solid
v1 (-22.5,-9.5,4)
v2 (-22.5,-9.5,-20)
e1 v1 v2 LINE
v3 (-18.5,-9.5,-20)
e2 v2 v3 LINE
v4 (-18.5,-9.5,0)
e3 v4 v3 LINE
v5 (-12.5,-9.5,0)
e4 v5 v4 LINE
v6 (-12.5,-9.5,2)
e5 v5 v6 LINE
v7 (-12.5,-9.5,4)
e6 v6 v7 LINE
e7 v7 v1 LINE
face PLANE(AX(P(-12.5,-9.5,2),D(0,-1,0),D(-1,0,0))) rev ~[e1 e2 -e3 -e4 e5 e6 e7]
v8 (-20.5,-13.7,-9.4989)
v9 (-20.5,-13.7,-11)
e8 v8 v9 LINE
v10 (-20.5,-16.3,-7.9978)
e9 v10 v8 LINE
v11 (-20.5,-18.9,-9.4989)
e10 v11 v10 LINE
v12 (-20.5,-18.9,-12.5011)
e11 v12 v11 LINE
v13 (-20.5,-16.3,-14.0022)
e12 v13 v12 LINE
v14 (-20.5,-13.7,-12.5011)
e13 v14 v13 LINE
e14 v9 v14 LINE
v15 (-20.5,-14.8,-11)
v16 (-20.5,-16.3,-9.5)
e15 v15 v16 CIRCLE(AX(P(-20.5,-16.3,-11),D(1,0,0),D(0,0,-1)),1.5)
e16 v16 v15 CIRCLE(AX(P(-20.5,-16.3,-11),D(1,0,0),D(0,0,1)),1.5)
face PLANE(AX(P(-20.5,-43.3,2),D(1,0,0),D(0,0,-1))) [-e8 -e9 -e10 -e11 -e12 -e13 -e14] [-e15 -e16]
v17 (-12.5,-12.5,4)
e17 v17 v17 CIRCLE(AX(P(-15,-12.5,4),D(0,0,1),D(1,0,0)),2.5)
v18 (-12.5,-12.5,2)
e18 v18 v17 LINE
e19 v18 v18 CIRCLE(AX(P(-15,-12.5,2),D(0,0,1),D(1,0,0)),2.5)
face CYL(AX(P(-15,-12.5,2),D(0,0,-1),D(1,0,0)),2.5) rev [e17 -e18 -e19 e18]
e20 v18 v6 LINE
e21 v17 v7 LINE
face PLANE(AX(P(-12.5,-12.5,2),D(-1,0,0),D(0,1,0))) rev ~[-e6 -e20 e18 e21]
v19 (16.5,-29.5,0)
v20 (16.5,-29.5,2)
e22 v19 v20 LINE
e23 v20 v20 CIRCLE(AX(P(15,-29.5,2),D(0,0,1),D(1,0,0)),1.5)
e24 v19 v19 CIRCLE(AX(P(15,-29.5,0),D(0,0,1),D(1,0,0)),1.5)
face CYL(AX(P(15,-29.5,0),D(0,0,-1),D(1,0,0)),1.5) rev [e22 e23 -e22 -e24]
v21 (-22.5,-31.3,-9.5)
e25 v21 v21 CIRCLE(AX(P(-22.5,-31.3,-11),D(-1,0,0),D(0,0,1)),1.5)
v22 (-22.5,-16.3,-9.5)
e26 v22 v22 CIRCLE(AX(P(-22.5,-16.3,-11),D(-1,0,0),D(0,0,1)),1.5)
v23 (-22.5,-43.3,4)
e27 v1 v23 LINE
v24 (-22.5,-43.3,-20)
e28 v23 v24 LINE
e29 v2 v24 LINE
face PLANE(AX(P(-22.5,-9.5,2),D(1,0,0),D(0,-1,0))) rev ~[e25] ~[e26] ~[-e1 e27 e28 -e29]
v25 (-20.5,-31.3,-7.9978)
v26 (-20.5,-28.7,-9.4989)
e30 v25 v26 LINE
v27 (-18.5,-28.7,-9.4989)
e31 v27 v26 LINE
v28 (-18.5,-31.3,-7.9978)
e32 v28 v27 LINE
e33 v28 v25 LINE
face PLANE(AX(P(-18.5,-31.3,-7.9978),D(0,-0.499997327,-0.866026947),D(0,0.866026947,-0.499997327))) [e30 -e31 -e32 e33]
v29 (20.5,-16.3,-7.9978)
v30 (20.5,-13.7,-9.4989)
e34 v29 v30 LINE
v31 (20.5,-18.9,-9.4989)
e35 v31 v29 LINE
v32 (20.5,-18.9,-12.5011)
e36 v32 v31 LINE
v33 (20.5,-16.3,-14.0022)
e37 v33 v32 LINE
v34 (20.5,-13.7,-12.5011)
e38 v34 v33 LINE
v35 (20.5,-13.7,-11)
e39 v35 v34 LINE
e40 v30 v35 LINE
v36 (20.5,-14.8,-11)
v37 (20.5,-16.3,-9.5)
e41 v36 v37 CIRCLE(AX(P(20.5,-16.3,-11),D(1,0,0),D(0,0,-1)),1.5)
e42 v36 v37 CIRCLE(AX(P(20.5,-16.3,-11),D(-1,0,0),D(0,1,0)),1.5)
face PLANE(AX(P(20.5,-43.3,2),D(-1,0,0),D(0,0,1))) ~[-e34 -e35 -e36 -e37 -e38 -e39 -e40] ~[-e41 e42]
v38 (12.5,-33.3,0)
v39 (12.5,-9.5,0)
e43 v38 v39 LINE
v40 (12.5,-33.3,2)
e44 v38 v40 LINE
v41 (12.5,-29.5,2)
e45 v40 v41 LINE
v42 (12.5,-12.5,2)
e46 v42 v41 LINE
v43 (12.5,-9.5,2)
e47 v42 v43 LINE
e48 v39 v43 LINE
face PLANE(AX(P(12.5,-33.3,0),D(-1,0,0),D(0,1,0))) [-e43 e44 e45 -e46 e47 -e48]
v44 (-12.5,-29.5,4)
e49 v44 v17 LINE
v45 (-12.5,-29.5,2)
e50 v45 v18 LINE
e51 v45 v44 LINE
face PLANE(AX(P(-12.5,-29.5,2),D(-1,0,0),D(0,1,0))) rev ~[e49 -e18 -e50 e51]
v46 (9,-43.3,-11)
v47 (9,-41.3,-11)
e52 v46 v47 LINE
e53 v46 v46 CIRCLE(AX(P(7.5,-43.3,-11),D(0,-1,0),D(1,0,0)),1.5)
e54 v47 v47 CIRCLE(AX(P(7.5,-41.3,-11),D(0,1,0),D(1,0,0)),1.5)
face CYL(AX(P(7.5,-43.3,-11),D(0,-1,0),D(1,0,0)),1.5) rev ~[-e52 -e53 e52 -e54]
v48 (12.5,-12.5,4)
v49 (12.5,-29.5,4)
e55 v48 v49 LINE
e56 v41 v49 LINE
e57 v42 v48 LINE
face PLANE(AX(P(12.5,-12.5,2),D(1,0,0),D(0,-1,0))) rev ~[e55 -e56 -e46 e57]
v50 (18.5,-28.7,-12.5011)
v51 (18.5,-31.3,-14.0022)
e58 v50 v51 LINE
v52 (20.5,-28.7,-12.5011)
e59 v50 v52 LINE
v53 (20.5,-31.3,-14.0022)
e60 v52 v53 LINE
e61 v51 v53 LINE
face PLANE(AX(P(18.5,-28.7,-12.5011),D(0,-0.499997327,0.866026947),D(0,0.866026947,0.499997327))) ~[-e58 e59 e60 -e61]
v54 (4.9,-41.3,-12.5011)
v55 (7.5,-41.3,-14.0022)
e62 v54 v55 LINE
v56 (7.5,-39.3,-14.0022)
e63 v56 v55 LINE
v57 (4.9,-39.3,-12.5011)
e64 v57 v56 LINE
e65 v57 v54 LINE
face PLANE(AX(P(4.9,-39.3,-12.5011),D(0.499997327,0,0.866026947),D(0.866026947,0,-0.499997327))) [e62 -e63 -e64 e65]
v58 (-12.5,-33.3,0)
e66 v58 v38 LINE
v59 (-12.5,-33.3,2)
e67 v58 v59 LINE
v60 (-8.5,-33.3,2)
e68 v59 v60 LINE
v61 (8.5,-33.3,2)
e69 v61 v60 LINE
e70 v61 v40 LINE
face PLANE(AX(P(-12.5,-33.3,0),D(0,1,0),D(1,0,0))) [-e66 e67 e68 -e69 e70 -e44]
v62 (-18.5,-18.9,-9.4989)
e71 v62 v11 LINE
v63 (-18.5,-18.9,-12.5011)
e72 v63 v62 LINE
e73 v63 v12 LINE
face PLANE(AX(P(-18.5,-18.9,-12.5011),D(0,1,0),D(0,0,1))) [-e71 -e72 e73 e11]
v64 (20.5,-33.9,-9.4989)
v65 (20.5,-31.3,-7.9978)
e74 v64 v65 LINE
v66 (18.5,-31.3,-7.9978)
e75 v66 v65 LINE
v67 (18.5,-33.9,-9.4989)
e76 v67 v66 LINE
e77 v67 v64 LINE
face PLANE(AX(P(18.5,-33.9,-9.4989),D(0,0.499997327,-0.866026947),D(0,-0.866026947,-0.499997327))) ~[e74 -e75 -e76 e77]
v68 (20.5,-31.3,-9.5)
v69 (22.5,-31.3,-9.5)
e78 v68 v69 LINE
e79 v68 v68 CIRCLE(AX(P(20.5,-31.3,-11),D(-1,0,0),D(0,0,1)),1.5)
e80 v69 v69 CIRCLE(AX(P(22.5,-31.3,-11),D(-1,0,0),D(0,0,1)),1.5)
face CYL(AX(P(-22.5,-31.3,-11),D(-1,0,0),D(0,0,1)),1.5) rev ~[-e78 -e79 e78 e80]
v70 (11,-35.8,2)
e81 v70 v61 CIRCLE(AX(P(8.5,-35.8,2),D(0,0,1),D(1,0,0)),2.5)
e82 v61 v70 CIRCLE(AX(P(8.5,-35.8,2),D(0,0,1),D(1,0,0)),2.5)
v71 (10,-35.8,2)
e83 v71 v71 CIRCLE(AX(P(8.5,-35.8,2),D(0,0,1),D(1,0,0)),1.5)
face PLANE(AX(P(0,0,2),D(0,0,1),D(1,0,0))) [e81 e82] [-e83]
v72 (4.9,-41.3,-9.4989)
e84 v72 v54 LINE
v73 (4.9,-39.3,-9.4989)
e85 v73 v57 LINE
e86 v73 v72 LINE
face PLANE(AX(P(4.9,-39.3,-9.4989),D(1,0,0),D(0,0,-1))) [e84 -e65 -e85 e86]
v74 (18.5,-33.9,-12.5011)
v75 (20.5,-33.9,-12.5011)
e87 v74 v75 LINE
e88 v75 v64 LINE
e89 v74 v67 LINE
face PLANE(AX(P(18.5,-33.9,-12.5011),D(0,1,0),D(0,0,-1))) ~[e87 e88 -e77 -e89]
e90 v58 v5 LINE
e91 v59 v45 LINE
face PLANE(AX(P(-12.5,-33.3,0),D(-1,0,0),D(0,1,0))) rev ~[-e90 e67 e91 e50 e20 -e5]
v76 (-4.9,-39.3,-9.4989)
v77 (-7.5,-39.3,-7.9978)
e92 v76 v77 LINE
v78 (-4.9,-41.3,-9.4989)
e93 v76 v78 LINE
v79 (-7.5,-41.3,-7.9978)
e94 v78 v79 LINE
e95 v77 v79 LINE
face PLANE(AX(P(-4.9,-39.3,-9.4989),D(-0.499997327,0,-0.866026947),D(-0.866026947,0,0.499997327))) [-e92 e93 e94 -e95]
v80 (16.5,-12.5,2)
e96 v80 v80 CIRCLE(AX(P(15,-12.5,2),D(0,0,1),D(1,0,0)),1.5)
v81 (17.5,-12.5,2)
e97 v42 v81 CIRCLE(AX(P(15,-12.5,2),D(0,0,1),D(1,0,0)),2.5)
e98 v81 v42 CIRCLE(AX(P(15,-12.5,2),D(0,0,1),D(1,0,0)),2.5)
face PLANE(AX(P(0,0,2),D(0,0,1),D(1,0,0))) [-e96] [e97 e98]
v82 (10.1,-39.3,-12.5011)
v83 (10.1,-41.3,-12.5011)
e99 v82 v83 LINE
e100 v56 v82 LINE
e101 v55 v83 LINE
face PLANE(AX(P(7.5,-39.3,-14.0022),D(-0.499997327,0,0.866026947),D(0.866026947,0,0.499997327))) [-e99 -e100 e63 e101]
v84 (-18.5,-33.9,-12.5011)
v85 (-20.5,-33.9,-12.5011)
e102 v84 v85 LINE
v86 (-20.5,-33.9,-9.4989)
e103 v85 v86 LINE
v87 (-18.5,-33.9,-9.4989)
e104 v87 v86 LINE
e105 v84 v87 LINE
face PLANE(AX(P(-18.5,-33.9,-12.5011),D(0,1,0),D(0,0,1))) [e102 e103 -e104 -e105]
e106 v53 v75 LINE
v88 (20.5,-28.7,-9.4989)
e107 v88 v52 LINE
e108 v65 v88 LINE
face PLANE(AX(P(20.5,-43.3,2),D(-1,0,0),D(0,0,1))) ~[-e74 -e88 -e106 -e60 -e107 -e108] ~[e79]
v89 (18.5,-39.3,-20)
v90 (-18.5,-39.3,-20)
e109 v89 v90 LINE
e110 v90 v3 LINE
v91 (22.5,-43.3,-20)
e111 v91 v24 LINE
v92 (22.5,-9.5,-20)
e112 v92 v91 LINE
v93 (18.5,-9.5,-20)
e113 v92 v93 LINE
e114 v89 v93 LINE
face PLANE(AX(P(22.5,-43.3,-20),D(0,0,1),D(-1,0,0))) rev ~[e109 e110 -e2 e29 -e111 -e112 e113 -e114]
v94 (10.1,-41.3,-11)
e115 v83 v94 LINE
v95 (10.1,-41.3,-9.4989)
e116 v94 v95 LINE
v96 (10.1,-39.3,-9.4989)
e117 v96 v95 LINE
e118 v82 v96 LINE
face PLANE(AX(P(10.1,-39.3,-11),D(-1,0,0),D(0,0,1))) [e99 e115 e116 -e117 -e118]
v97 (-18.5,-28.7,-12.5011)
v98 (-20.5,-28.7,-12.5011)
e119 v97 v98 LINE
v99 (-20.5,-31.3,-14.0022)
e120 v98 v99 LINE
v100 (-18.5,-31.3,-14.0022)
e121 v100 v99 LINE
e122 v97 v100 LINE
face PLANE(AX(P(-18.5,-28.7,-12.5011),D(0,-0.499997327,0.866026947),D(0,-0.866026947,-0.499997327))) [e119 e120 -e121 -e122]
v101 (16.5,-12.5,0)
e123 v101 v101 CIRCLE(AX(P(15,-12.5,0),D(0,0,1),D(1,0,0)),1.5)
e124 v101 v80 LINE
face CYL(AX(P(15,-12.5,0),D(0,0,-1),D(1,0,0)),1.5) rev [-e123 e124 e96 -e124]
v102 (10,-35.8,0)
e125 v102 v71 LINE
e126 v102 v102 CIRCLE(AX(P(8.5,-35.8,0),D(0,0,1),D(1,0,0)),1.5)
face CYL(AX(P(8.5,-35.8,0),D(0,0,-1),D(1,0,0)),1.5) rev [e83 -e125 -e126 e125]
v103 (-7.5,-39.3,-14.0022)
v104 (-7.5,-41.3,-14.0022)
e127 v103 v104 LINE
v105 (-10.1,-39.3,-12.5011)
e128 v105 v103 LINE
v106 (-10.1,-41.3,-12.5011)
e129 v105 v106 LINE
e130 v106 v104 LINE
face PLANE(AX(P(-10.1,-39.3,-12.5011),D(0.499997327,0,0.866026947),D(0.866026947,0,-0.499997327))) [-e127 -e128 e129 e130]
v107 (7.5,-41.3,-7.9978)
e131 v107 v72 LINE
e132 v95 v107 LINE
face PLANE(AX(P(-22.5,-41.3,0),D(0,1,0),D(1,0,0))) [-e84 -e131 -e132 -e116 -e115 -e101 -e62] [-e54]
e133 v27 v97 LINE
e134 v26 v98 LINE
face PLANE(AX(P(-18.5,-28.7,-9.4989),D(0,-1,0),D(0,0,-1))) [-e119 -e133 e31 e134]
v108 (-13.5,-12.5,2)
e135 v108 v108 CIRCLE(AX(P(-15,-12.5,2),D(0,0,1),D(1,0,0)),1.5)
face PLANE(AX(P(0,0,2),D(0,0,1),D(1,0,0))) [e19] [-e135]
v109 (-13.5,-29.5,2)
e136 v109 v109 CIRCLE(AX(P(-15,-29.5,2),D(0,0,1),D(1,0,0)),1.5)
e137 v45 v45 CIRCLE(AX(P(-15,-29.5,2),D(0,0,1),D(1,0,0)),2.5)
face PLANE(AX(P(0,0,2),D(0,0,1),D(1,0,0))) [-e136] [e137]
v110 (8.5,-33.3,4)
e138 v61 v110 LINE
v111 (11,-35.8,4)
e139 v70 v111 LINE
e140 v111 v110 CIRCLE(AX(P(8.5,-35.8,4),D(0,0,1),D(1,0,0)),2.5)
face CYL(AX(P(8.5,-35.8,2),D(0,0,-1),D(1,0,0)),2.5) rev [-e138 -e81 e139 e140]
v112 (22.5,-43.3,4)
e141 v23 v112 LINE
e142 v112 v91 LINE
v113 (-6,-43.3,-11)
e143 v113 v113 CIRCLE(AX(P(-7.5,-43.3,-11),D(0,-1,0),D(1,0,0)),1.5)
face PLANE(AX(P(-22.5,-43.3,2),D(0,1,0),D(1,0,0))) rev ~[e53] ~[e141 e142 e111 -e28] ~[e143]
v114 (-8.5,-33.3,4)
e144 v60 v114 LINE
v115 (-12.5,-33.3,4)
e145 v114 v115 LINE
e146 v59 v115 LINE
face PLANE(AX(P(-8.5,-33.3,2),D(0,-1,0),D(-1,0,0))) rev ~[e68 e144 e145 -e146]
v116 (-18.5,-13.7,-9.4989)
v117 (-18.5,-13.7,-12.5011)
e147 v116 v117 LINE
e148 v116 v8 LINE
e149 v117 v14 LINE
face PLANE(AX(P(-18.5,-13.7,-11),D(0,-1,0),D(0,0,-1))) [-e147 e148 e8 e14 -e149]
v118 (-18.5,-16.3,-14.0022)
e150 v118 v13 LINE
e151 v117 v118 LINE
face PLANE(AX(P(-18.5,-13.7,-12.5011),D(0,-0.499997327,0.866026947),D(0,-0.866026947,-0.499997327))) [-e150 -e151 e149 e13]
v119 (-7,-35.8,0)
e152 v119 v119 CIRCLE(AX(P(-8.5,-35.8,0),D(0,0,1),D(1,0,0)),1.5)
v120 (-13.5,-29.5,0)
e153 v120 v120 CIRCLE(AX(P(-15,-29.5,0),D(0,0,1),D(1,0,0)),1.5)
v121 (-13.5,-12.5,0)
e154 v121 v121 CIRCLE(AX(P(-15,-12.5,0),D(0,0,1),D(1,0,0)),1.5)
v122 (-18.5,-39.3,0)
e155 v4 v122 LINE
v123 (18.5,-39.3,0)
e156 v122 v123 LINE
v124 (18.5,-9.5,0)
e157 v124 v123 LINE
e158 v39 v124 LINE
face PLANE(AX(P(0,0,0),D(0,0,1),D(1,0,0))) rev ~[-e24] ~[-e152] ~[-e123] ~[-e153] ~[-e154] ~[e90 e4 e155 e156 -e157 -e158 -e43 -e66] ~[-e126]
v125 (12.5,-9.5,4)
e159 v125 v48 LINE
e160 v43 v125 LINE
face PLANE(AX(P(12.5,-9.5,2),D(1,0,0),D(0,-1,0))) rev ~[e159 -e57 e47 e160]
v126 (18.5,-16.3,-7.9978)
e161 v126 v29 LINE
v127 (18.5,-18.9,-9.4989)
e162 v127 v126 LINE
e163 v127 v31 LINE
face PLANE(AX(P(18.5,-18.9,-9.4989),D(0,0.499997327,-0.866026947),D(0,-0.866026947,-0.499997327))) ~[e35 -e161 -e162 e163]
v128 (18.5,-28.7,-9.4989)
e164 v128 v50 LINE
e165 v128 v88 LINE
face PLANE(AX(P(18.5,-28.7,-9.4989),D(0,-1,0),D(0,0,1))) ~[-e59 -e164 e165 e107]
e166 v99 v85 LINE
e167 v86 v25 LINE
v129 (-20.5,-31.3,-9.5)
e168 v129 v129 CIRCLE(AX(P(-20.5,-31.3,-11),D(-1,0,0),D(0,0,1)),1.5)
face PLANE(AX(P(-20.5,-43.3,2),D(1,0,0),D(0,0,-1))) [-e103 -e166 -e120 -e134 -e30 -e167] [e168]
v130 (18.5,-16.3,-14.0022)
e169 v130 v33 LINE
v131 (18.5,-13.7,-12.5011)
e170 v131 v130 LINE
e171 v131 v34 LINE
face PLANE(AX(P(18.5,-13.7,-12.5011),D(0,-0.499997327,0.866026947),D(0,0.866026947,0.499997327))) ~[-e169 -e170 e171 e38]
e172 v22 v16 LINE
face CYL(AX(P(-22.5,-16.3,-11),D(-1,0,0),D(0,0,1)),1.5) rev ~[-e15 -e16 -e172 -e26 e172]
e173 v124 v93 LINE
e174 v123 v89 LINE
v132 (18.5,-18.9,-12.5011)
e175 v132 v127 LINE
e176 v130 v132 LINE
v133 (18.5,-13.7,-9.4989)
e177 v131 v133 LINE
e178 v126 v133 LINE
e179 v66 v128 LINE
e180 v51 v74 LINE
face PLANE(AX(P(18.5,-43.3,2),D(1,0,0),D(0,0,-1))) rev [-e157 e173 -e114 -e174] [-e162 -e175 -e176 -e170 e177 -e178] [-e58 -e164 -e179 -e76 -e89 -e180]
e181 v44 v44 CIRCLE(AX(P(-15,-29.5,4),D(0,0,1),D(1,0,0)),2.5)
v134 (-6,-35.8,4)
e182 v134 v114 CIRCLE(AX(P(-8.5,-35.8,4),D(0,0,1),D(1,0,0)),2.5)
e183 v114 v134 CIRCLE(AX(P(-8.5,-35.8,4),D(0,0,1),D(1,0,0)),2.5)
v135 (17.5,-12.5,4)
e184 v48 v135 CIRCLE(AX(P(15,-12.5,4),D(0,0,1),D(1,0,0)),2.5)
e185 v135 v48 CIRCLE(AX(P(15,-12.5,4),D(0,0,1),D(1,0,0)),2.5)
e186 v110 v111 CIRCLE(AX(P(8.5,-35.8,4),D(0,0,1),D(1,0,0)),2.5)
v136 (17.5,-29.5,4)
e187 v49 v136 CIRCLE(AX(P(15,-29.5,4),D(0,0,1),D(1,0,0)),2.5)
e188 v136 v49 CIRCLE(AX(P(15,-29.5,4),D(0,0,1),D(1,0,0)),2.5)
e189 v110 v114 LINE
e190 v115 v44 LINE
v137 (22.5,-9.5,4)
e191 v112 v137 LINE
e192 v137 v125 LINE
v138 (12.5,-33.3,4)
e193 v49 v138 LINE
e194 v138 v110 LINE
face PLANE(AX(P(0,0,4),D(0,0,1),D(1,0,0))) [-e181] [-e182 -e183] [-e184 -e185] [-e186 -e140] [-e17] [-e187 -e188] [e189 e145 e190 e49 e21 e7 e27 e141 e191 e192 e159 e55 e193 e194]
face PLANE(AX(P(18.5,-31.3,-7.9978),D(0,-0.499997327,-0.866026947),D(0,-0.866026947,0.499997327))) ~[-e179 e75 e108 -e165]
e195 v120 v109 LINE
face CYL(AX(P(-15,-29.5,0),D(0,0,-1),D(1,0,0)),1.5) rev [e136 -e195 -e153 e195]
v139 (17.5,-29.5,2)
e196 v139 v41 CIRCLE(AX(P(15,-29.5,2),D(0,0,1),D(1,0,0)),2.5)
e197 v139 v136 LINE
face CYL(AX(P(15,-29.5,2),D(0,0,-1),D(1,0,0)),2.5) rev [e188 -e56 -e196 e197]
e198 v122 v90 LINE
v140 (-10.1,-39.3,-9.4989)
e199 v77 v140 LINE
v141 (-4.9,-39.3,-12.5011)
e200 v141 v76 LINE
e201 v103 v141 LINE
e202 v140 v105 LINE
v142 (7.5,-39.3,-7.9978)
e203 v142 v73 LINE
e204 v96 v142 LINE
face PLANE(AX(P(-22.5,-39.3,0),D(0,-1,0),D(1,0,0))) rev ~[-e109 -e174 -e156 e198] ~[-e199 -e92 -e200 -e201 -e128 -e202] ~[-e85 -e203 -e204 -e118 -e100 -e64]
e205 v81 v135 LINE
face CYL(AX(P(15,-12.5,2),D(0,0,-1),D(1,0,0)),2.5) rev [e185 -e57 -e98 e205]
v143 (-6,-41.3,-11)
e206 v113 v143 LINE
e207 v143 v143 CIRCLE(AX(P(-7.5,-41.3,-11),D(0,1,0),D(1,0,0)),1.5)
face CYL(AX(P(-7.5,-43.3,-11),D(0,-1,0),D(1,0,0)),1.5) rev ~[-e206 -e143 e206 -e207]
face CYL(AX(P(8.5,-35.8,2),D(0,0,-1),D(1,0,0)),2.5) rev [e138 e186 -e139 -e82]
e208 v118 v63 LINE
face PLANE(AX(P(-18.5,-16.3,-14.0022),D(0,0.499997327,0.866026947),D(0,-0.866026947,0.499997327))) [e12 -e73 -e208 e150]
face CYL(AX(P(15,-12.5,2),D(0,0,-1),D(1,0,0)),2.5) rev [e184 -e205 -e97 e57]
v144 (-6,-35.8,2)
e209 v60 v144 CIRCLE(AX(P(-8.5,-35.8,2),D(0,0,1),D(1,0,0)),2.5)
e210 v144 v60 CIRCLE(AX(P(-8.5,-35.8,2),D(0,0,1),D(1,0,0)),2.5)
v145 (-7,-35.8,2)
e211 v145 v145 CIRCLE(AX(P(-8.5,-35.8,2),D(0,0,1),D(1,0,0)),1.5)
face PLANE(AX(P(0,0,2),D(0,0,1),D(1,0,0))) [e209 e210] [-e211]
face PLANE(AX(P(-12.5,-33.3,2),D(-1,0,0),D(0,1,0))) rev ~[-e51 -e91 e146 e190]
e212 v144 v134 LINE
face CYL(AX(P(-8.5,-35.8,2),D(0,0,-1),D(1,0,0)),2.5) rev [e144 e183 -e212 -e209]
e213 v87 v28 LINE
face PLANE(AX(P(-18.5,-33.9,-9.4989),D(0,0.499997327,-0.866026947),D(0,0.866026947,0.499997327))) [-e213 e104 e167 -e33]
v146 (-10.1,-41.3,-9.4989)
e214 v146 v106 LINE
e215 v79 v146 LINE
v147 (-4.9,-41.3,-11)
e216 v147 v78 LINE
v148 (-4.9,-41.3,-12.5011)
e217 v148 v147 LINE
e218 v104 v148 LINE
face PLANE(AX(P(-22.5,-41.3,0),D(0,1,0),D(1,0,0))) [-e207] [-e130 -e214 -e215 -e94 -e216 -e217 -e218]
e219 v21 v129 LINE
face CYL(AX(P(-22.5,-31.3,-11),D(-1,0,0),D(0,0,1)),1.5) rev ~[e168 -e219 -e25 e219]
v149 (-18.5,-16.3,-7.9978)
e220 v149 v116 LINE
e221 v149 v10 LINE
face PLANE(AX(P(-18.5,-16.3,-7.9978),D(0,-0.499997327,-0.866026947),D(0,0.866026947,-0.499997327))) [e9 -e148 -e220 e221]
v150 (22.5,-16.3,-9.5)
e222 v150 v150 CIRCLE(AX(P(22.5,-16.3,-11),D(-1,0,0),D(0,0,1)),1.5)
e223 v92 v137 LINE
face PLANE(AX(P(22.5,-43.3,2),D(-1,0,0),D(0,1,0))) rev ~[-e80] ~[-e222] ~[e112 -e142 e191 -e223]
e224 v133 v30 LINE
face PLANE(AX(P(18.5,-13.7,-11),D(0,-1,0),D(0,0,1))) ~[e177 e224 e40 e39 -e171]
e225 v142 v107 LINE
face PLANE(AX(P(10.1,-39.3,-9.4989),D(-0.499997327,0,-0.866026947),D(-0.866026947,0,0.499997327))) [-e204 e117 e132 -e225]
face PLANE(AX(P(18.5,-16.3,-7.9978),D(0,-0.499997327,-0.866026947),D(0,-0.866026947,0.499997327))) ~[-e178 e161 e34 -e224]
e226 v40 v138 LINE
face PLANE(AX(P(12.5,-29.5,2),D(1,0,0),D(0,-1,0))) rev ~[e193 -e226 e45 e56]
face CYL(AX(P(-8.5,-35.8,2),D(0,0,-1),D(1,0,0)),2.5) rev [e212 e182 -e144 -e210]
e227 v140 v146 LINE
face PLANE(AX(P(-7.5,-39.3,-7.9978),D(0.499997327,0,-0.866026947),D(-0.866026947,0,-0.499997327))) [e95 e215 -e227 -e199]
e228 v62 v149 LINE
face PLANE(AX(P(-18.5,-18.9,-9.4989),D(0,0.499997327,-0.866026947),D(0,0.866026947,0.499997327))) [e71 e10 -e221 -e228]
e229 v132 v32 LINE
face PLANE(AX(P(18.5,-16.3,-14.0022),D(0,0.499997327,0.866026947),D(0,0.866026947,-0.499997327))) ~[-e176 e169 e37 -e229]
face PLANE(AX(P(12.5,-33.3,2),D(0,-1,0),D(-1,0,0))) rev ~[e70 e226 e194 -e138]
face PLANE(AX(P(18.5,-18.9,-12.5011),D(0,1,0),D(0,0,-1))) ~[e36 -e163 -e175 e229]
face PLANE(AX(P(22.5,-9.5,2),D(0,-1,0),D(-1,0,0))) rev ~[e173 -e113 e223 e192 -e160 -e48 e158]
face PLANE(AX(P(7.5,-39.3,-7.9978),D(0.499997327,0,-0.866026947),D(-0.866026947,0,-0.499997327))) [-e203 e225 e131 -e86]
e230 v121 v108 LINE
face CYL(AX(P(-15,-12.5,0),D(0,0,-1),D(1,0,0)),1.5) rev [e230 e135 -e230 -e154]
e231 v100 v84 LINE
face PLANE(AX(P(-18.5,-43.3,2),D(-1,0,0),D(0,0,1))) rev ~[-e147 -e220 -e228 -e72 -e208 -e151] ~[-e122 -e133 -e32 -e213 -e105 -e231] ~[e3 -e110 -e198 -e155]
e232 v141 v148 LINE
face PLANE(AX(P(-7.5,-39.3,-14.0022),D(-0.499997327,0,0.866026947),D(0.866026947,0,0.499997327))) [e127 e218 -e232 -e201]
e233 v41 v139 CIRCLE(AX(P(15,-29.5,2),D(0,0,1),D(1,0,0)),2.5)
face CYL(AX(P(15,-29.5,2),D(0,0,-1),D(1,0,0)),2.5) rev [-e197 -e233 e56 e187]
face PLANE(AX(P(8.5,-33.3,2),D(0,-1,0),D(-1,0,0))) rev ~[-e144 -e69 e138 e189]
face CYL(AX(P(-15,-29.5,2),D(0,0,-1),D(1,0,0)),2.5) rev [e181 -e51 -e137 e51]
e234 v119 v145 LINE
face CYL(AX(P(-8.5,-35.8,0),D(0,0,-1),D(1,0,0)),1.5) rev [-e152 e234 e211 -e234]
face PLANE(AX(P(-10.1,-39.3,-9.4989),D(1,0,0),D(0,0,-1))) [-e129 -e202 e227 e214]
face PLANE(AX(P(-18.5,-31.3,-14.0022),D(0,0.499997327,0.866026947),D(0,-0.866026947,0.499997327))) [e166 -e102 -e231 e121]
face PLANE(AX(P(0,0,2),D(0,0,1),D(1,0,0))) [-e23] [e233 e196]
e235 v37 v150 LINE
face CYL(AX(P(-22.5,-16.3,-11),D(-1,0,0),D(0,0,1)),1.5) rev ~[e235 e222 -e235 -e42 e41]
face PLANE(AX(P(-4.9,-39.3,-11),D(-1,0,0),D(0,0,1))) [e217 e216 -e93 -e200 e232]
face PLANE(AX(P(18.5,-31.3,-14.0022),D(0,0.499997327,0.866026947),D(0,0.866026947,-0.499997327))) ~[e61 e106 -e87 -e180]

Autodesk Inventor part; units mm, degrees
ref_plane "YZ Plane" through (0, 0, 0) normal (1, 0, 0) x (0, 1, 0)
ref_plane "Work Plane1" through (0, 0, 0) normal (0, 0, 1) x (1, 0, 0)
sketch "Sketch1" plane through (0, 0, 0) normal (0, 0, 1) x (1, 0, 0)
  line L0 (-12.7, 12) -> (-9.2, 12) construction
  line L1 (-12.7, 12) -> (-17.8, 6) construction
  line L2 (-17.8, 6) -> (-17.8, -32.6) construction
  line L3 (-17.8, -32.6) -> (-12.7, -38.6) construction
  line L4 (-12.7, -38.6) -> (12.7, -38.6) construction
  line L5 (12.7, -38.6) -> (17.8, -32.6) construction
  line L6 (17.8, -32.6) -> (17.8, 6) construction
  line L7 (17.8, 6) -> (12.7, 12) construction
  line L8 (9.2, 12) -> (12.7, 12) construction
  arc A0 (12.2, 9) -> (9.2, 12) centre (9.2, 9) ccw construction
  line L9 (12.2, -30) -> (12.2, 9) construction
  arc A1 (9.2, -33) -> (12.2, -30) centre (9.2, -30) ccw construction
  line L10 (-9.2, -33) -> (9.2, -33) construction
  arc A2 (-12.2, -30) -> (-9.2, -33) centre (-9.2, -30) ccw construction
  line L11 (-12.2, 9) -> (-12.2, -30) construction
  arc A3 (-9.2, 12) -> (-12.2, 9) centre (-9.2, 9) ccw construction
  circle A4 centre (-15, 4.5) radius 1.35 construction
  circle A5 centre (-15, -12.5) radius 1.35 construction
  circle A6 centre (-8.5, -35.8) radius 1.35 construction
  circle A7 centre (15, 4.5) radius 1.35 construction
  circle A8 centre (15, -12.5) radius 1.35 construction
  circle A9 centre (8.5, -35.8) radius 1.35 construction
  circle A10 centre (-15, -29.5) radius 1.35 construction
  circle A11 centre (15, -29.5) radius 1.35 construction
  line L12 (-15, -12.5) -> (-12.5, -12.5) construction
  line L13 (-12.5, -12.5) -> (-12.5, -9.5) construction
  line L14 (-12.5, -9.5) -> (-15, -9.5) construction
  line L15 (-15, -9.5) -> (-15, -12.5) construction
  line L16 (15, -12.5) -> (12.5, -12.5) construction
  line L17 (12.5, -12.5) -> (12.5, -9.5) construction
  line L18 (12.5, -9.5) -> (15, -9.5) construction
  line L19 (15, -9.5) -> (15, -12.5) construction
  line L20 (-8.5, -35.8) -> (-12.5, -35.8) construction
  line L21 (-12.5, -35.8) -> (-12.5, -33.3) construction
  line L22 (-12.5, -33.3) -> (-8.5, -33.3) construction
  line L23 (-8.5, -33.3) -> (-8.5, -35.8) construction
  line L24 (8.5, -35.8) -> (12.5, -35.8) construction
  line L25 (12.5, -35.8) -> (12.5, -33.3) construction
  line L26 (12.5, -33.3) -> (8.5, -33.3) construction
  line L27 (8.5, -33.3) -> (8.5, -35.8) construction
  line L28 (-12.5, -9.5) -> (-22.5, -9.5)
  line L29 (-22.5, -9.5) -> (-22.5, -33.3)
  line L30 (-22.5, -33.3) -> (-12.5, -33.3)
  line L31 (-12.5, -33.3) -> (-12.5, -9.5)
  line L32 (12.5, -9.5) -> (22.5, -9.5)
  line L33 (22.5, -9.5) -> (22.5, -33.3)
  line L34 (22.5, -33.3) -> (12.5, -33.3)
  line L35 (12.5, -33.3) -> (12.5, -9.5)
  line L36 (-22.5, -33.3) -> (22.5, -33.3)
  line L37 (22.5, -33.3) -> (22.5, -43.3)
  line L38 (22.5, -43.3) -> (-22.5, -43.3)
  line L39 (-22.5, -43.3) -> (-22.5, -33.3)
  circle A12 centre (-15, -12.5) radius 1.5
  circle A13 centre (-15, -29.5) radius 1.5
  circle A14 centre (-8.5, -35.8) radius 1.5
  circle A15 centre (8.5, -35.8) radius 1.5
  circle A16 centre (15, -29.5) radius 1.5
  circle A17 centre (15, -12.5) radius 1.5
  point P0 (0, 0)
  dimension "d0" = 2.5
  dimension "d1" = 3
  dimension "d2" = 2.5
  dimension "d3" = 3
  dimension "d4" = 4
  dimension "d5" = 2.5
  dimension "d6" = 4
  dimension "d7" = 2.5
  dimension "d9" = 10
  dimension "d10" = 10
  dimension "d11" = 10
  dimension "d12" = 3
  dimension "d13" = 3
  dimension "d14" = 3
  dimension "d15" = 3
  dimension "d16" = 3
  dimension "d17" = 3
extrude "Extrusion1" add sketch "Sketch1" along normal blind 2
sketch "Sketch2" plane through (-22.5, -43.3, 0) normal (0, -1, 0) x (1, 0, 0)
  line L0 (0, 0) -> (45, 0) projected
  line L1 (45, 0) -> (45, 2) projected
  line L2 (0, 2) -> (45, 2) projected
  line L3 (0, 0) -> (0, 2) projected
  line L4 (0, 0) -> (45, 0)
  line L5 (45, 0) -> (45, -20)
  line L6 (45, -20) -> (0, -20)
  line L7 (0, -20) -> (0, 0)
  point P0 (22.5, 0)
  dimension "d20" = 20
extrude "Extrusion2" add sketch "Sketch2" against normal blind 4
ref_plane "Work Plane2" through (0, -43.3, 2) normal (-1, 0, 0) x (0, 0, 1)
sketch "Sketch3" plane through (-22.5, -43.3, 2) normal (-1, 0, 0) x (0, 0, 1)
  line L0 (0, 33.8) -> (0, 0) projected
  line L1 (-2, 33.8) -> (0, 33.8) projected
  line L2 (-2, 33.8) -> (-2, 4) projected
  line L3 (-22, 4) -> (-2, 4) projected
  line L4 (-22, 0) -> (-22, 4) projected
  line L5 (-22, 0) -> (0, 0) projected
  line L6 (-2, 33.8) -> (-2, 4) projected
  line L7 (-2, 4) -> (-22, 4)
  line L8 (-22, 4) -> (-22, 33.8)
  line L9 (-22, 33.8) -> (-2, 33.8)
  line L10 (-2, 33.8) -> (-2, 4)
  point P0 (-2, 43.3)
extrude "Extrusion3" add sketch "Sketch3" against normal blind 4
mirror "Mirror1" about plane through (0, -43.3, 2) normal (-1, 0, 0) of "Extrusion3"
sketch "Sketch4" plane through (0, 0, 2) normal (0, 0, 1) x (1, 0, 0)
  line L0 (22.5, -9.5) -> (12.5, -9.5) projected
  line L1 (12.5, -9.5) -> (12.5, -33.3) projected
  line L2 (12.5, -33.3) -> (-12.5, -33.3) projected
  line L3 (-12.5, -33.3) -> (-12.5, -9.5) projected
  line L4 (-12.5, -9.5) -> (-22.5, -9.5) projected
  line L5 (-22.5, -9.5) -> (-22.5, -43.3) projected
  line L6 (-22.5, -43.3) -> (22.5, -43.3) projected
  line L7 (22.5, -43.3) -> (22.5, -9.5) projected
  circle A0 centre (8.5, -35.8) radius 1.5 projected
  circle A1 centre (-8.5, -35.8) radius 1.5 projected
  circle A2 centre (15, -12.5) radius 1.5 projected
  circle A3 centre (15, -29.5) radius 1.5 projected
  circle A4 centre (-15, -29.5) radius 1.5 projected
  circle A5 centre (-15, -12.5) radius 1.5 projected
  circle A6 centre (8.5, -35.8) radius 2.5
  circle A7 centre (15, -29.5) radius 1.5 projected
  circle A8 centre (15, -29.5) radius 2.5
  circle A9 centre (15, -12.5) radius 2.5
  circle A10 centre (-8.5, -35.8) radius 2.5
  circle A11 centre (-15, -29.5) radius 1.5 projected
  circle A12 centre (-15, -29.5) radius 2.5
  circle A13 centre (-15, -12.5) radius 2.5
  point P0 (0, 0)
  dimension "d25" = 5
  dimension "d26" = 5
  dimension "d27" = 5
  dimension "d28" = 5
  dimension "d29" = 5
  dimension "d30" = 5
extrude "Extrusion4" add sketch "Sketch4" along normal blind 2 contours L7 L6 L5 L4 L3 L2 L1 L0
sketch "Sketch5" plane through (-22.5, -43.3, -20) normal (0, -1, 0) x (1, 0, 0)
  line L0 (0, 0) -> (0, 24) construction
  line L1 (0, 0) -> (45, 0) construction
  line L2 (45, 0) -> (45, 24) construction
  line L3 (0, 24) -> (45, 24) construction
  line L4 (0, 24) -> (15, 24) construction
  line L5 (15, 24) -> (15, 9) construction
  line L6 (15, 9) -> (0, 9) construction
  line L7 (0, 9) -> (0, 24) construction
  line L8 (15, 9) -> (30, 9) construction
  circle A0 centre (15, 9) radius 1.5
  circle A1 centre (30, 9) radius 1.5
  point P0 (22.5, 20)
  dimension "d33" = 15
  dimension "d34" = 15
  dimension "d35" = 15
  dimension "d36" = 3
  dimension "d37" = 3
extrude "Extrusion5" cut sketch "Sketch5" against normal through all
sketch "Sketch6" plane through (-22.5, -39.3, 0) normal (0, 1, 0) x (1, 0, 0)
  circle A0 centre (15, 11) radius 1.5 projected
  circle A1 centre (30, 11) radius 1.5 projected
  line L0 (41, 0) -> (41, 20) projected
  line L1 (41, 20) -> (4, 20) projected
  line L2 (4, 20) -> (4, 0) projected
  line L3 (41, 0) -> (4, 0) projected
  line L4 (15, 11) -> (17.6, 11)
  line L5 (17.6, 9.4989) -> (15, 7.9978)
  line L6 (15, 7.9978) -> (12.4, 9.4989)
  line L7 (12.4, 9.4989) -> (12.4, 12.5011)
  line L8 (12.4, 12.5011) -> (15, 14.0022)
  line L9 (15, 14.0022) -> (17.6, 12.5011)
  line L10 (17.6, 12.5011) -> (17.6, 9.4989)
  line L11 (30, 11) -> (32.6, 11)
  line L12 (32.6, 9.4989) -> (30, 7.9978)
  line L13 (30, 7.9978) -> (27.4, 9.4989)
  line L14 (27.4, 9.4989) -> (27.4, 12.5011)
  line L15 (27.4, 12.5011) -> (30, 14.0022)
  line L16 (30, 14.0022) -> (32.6, 12.5011)
  line L17 (32.6, 12.5011) -> (32.6, 9.4989)
  point P0 (22.5, 0)
  dimension "d40" = 2.6
  dimension "d41" = 2.6
extrude "Extrusion6" cut sketch "Sketch6" against normal blind 2 contours L10 L5 L6 L7 L8 L9 | L17 L12 L13 L14 L15 L16
sketch "Sketch7" plane through (-22.5, -43.3, -20) normal (-1, 0, 0) x (0, 0, 1)
  line L0 (0, 33.8) -> (24, 33.8) construction
  line L1 (0, 0) -> (0, 33.8) construction
  line L2 (0, 0) -> (24, 0) construction
  line L3 (24, 33.8) -> (24, 0) construction
  line L4 (0, 33.8) -> (10, 33.8) construction
  line L5 (10, 33.8) -> (10, 28.8) construction
  line L6 (10, 28.8) -> (0, 28.8) construction
  line L7 (0, 28.8) -> (0, 33.8) construction
  line L8 (0, 0) -> (0, 33.8) construction
  line L9 (0, 0) -> (9, 0) construction
  line L10 (9, 0) -> (9, 12) construction
  line L11 (9, 12) -> (0, 12) construction
  line L12 (0, 12) -> (0, 0) construction
  line L13 (9, 12) -> (9, 27) construction
  circle A0 centre (9, 27) radius 1.5
  circle A1 centre (9, 12) radius 1.5
  point P0 (20, 43.3)
  dimension "d44" = 10
  dimension "d45" = 5
  dimension "d46" = 9
  dimension "d47" = 12
  dimension "d48" = 15
  dimension "d49" = 3
  dimension "d50" = 3
extrude "Extrusion7" cut sketch "Sketch7" against normal through all
sketch "Sketch8" plane through (-18.5, -43.3, 2) normal (1, 0, 0) x (0, 0, -1)
  circle A0 centre (13, 27) radius 1.5 construction
  circle A1 centre (13, 12) radius 1.5 construction
  line L0 (22, 4) -> (2, 4) construction
  line L1 (22, 4) -> (22, 33.8) construction
  line L2 (22, 33.8) -> (2, 33.8) construction
  line L3 (2, 4) -> (2, 33.8) construction
  line L4 (13, 12) -> (13, 14.6) construction
  line L5 (14.5011, 14.6) -> (16.0022, 12)
  line L6 (16.0022, 12) -> (14.5011, 9.4)
  line L7 (14.5011, 9.4) -> (11.4989, 9.4)
  line L8 (11.4989, 9.4) -> (9.9978, 12)
  line L9 (9.9978, 12) -> (11.4989, 14.6)
  line L10 (11.4989, 14.6) -> (14.5011, 14.6)
  circle A2 centre (13, 27) radius 1.5 projected
  line L11 (13, 27) -> (13, 29.6)
  line L12 (14.5011, 29.6) -> (16.0022, 27)
  line L13 (16.0022, 27) -> (14.5011, 24.4)
  line L14 (14.5011, 24.4) -> (11.4989, 24.4)
  line L15 (11.4989, 24.4) -> (9.9978, 27)
  line L16 (9.9978, 27) -> (11.4989, 29.6)
  line L17 (11.4989, 29.6) -> (14.5011, 29.6)
  point P0 (2, 43.3)
  dimension "d53" = 2.6
  dimension "d54" = 2.6
extrude "Extrusion8" cut sketch "Sketch8" against normal blind 2
mirror "Mirror2" about plane through (0, -43.3, 2) normal (-1, 0, 0) of "Extrusion8"
properties part number "april_tag"
